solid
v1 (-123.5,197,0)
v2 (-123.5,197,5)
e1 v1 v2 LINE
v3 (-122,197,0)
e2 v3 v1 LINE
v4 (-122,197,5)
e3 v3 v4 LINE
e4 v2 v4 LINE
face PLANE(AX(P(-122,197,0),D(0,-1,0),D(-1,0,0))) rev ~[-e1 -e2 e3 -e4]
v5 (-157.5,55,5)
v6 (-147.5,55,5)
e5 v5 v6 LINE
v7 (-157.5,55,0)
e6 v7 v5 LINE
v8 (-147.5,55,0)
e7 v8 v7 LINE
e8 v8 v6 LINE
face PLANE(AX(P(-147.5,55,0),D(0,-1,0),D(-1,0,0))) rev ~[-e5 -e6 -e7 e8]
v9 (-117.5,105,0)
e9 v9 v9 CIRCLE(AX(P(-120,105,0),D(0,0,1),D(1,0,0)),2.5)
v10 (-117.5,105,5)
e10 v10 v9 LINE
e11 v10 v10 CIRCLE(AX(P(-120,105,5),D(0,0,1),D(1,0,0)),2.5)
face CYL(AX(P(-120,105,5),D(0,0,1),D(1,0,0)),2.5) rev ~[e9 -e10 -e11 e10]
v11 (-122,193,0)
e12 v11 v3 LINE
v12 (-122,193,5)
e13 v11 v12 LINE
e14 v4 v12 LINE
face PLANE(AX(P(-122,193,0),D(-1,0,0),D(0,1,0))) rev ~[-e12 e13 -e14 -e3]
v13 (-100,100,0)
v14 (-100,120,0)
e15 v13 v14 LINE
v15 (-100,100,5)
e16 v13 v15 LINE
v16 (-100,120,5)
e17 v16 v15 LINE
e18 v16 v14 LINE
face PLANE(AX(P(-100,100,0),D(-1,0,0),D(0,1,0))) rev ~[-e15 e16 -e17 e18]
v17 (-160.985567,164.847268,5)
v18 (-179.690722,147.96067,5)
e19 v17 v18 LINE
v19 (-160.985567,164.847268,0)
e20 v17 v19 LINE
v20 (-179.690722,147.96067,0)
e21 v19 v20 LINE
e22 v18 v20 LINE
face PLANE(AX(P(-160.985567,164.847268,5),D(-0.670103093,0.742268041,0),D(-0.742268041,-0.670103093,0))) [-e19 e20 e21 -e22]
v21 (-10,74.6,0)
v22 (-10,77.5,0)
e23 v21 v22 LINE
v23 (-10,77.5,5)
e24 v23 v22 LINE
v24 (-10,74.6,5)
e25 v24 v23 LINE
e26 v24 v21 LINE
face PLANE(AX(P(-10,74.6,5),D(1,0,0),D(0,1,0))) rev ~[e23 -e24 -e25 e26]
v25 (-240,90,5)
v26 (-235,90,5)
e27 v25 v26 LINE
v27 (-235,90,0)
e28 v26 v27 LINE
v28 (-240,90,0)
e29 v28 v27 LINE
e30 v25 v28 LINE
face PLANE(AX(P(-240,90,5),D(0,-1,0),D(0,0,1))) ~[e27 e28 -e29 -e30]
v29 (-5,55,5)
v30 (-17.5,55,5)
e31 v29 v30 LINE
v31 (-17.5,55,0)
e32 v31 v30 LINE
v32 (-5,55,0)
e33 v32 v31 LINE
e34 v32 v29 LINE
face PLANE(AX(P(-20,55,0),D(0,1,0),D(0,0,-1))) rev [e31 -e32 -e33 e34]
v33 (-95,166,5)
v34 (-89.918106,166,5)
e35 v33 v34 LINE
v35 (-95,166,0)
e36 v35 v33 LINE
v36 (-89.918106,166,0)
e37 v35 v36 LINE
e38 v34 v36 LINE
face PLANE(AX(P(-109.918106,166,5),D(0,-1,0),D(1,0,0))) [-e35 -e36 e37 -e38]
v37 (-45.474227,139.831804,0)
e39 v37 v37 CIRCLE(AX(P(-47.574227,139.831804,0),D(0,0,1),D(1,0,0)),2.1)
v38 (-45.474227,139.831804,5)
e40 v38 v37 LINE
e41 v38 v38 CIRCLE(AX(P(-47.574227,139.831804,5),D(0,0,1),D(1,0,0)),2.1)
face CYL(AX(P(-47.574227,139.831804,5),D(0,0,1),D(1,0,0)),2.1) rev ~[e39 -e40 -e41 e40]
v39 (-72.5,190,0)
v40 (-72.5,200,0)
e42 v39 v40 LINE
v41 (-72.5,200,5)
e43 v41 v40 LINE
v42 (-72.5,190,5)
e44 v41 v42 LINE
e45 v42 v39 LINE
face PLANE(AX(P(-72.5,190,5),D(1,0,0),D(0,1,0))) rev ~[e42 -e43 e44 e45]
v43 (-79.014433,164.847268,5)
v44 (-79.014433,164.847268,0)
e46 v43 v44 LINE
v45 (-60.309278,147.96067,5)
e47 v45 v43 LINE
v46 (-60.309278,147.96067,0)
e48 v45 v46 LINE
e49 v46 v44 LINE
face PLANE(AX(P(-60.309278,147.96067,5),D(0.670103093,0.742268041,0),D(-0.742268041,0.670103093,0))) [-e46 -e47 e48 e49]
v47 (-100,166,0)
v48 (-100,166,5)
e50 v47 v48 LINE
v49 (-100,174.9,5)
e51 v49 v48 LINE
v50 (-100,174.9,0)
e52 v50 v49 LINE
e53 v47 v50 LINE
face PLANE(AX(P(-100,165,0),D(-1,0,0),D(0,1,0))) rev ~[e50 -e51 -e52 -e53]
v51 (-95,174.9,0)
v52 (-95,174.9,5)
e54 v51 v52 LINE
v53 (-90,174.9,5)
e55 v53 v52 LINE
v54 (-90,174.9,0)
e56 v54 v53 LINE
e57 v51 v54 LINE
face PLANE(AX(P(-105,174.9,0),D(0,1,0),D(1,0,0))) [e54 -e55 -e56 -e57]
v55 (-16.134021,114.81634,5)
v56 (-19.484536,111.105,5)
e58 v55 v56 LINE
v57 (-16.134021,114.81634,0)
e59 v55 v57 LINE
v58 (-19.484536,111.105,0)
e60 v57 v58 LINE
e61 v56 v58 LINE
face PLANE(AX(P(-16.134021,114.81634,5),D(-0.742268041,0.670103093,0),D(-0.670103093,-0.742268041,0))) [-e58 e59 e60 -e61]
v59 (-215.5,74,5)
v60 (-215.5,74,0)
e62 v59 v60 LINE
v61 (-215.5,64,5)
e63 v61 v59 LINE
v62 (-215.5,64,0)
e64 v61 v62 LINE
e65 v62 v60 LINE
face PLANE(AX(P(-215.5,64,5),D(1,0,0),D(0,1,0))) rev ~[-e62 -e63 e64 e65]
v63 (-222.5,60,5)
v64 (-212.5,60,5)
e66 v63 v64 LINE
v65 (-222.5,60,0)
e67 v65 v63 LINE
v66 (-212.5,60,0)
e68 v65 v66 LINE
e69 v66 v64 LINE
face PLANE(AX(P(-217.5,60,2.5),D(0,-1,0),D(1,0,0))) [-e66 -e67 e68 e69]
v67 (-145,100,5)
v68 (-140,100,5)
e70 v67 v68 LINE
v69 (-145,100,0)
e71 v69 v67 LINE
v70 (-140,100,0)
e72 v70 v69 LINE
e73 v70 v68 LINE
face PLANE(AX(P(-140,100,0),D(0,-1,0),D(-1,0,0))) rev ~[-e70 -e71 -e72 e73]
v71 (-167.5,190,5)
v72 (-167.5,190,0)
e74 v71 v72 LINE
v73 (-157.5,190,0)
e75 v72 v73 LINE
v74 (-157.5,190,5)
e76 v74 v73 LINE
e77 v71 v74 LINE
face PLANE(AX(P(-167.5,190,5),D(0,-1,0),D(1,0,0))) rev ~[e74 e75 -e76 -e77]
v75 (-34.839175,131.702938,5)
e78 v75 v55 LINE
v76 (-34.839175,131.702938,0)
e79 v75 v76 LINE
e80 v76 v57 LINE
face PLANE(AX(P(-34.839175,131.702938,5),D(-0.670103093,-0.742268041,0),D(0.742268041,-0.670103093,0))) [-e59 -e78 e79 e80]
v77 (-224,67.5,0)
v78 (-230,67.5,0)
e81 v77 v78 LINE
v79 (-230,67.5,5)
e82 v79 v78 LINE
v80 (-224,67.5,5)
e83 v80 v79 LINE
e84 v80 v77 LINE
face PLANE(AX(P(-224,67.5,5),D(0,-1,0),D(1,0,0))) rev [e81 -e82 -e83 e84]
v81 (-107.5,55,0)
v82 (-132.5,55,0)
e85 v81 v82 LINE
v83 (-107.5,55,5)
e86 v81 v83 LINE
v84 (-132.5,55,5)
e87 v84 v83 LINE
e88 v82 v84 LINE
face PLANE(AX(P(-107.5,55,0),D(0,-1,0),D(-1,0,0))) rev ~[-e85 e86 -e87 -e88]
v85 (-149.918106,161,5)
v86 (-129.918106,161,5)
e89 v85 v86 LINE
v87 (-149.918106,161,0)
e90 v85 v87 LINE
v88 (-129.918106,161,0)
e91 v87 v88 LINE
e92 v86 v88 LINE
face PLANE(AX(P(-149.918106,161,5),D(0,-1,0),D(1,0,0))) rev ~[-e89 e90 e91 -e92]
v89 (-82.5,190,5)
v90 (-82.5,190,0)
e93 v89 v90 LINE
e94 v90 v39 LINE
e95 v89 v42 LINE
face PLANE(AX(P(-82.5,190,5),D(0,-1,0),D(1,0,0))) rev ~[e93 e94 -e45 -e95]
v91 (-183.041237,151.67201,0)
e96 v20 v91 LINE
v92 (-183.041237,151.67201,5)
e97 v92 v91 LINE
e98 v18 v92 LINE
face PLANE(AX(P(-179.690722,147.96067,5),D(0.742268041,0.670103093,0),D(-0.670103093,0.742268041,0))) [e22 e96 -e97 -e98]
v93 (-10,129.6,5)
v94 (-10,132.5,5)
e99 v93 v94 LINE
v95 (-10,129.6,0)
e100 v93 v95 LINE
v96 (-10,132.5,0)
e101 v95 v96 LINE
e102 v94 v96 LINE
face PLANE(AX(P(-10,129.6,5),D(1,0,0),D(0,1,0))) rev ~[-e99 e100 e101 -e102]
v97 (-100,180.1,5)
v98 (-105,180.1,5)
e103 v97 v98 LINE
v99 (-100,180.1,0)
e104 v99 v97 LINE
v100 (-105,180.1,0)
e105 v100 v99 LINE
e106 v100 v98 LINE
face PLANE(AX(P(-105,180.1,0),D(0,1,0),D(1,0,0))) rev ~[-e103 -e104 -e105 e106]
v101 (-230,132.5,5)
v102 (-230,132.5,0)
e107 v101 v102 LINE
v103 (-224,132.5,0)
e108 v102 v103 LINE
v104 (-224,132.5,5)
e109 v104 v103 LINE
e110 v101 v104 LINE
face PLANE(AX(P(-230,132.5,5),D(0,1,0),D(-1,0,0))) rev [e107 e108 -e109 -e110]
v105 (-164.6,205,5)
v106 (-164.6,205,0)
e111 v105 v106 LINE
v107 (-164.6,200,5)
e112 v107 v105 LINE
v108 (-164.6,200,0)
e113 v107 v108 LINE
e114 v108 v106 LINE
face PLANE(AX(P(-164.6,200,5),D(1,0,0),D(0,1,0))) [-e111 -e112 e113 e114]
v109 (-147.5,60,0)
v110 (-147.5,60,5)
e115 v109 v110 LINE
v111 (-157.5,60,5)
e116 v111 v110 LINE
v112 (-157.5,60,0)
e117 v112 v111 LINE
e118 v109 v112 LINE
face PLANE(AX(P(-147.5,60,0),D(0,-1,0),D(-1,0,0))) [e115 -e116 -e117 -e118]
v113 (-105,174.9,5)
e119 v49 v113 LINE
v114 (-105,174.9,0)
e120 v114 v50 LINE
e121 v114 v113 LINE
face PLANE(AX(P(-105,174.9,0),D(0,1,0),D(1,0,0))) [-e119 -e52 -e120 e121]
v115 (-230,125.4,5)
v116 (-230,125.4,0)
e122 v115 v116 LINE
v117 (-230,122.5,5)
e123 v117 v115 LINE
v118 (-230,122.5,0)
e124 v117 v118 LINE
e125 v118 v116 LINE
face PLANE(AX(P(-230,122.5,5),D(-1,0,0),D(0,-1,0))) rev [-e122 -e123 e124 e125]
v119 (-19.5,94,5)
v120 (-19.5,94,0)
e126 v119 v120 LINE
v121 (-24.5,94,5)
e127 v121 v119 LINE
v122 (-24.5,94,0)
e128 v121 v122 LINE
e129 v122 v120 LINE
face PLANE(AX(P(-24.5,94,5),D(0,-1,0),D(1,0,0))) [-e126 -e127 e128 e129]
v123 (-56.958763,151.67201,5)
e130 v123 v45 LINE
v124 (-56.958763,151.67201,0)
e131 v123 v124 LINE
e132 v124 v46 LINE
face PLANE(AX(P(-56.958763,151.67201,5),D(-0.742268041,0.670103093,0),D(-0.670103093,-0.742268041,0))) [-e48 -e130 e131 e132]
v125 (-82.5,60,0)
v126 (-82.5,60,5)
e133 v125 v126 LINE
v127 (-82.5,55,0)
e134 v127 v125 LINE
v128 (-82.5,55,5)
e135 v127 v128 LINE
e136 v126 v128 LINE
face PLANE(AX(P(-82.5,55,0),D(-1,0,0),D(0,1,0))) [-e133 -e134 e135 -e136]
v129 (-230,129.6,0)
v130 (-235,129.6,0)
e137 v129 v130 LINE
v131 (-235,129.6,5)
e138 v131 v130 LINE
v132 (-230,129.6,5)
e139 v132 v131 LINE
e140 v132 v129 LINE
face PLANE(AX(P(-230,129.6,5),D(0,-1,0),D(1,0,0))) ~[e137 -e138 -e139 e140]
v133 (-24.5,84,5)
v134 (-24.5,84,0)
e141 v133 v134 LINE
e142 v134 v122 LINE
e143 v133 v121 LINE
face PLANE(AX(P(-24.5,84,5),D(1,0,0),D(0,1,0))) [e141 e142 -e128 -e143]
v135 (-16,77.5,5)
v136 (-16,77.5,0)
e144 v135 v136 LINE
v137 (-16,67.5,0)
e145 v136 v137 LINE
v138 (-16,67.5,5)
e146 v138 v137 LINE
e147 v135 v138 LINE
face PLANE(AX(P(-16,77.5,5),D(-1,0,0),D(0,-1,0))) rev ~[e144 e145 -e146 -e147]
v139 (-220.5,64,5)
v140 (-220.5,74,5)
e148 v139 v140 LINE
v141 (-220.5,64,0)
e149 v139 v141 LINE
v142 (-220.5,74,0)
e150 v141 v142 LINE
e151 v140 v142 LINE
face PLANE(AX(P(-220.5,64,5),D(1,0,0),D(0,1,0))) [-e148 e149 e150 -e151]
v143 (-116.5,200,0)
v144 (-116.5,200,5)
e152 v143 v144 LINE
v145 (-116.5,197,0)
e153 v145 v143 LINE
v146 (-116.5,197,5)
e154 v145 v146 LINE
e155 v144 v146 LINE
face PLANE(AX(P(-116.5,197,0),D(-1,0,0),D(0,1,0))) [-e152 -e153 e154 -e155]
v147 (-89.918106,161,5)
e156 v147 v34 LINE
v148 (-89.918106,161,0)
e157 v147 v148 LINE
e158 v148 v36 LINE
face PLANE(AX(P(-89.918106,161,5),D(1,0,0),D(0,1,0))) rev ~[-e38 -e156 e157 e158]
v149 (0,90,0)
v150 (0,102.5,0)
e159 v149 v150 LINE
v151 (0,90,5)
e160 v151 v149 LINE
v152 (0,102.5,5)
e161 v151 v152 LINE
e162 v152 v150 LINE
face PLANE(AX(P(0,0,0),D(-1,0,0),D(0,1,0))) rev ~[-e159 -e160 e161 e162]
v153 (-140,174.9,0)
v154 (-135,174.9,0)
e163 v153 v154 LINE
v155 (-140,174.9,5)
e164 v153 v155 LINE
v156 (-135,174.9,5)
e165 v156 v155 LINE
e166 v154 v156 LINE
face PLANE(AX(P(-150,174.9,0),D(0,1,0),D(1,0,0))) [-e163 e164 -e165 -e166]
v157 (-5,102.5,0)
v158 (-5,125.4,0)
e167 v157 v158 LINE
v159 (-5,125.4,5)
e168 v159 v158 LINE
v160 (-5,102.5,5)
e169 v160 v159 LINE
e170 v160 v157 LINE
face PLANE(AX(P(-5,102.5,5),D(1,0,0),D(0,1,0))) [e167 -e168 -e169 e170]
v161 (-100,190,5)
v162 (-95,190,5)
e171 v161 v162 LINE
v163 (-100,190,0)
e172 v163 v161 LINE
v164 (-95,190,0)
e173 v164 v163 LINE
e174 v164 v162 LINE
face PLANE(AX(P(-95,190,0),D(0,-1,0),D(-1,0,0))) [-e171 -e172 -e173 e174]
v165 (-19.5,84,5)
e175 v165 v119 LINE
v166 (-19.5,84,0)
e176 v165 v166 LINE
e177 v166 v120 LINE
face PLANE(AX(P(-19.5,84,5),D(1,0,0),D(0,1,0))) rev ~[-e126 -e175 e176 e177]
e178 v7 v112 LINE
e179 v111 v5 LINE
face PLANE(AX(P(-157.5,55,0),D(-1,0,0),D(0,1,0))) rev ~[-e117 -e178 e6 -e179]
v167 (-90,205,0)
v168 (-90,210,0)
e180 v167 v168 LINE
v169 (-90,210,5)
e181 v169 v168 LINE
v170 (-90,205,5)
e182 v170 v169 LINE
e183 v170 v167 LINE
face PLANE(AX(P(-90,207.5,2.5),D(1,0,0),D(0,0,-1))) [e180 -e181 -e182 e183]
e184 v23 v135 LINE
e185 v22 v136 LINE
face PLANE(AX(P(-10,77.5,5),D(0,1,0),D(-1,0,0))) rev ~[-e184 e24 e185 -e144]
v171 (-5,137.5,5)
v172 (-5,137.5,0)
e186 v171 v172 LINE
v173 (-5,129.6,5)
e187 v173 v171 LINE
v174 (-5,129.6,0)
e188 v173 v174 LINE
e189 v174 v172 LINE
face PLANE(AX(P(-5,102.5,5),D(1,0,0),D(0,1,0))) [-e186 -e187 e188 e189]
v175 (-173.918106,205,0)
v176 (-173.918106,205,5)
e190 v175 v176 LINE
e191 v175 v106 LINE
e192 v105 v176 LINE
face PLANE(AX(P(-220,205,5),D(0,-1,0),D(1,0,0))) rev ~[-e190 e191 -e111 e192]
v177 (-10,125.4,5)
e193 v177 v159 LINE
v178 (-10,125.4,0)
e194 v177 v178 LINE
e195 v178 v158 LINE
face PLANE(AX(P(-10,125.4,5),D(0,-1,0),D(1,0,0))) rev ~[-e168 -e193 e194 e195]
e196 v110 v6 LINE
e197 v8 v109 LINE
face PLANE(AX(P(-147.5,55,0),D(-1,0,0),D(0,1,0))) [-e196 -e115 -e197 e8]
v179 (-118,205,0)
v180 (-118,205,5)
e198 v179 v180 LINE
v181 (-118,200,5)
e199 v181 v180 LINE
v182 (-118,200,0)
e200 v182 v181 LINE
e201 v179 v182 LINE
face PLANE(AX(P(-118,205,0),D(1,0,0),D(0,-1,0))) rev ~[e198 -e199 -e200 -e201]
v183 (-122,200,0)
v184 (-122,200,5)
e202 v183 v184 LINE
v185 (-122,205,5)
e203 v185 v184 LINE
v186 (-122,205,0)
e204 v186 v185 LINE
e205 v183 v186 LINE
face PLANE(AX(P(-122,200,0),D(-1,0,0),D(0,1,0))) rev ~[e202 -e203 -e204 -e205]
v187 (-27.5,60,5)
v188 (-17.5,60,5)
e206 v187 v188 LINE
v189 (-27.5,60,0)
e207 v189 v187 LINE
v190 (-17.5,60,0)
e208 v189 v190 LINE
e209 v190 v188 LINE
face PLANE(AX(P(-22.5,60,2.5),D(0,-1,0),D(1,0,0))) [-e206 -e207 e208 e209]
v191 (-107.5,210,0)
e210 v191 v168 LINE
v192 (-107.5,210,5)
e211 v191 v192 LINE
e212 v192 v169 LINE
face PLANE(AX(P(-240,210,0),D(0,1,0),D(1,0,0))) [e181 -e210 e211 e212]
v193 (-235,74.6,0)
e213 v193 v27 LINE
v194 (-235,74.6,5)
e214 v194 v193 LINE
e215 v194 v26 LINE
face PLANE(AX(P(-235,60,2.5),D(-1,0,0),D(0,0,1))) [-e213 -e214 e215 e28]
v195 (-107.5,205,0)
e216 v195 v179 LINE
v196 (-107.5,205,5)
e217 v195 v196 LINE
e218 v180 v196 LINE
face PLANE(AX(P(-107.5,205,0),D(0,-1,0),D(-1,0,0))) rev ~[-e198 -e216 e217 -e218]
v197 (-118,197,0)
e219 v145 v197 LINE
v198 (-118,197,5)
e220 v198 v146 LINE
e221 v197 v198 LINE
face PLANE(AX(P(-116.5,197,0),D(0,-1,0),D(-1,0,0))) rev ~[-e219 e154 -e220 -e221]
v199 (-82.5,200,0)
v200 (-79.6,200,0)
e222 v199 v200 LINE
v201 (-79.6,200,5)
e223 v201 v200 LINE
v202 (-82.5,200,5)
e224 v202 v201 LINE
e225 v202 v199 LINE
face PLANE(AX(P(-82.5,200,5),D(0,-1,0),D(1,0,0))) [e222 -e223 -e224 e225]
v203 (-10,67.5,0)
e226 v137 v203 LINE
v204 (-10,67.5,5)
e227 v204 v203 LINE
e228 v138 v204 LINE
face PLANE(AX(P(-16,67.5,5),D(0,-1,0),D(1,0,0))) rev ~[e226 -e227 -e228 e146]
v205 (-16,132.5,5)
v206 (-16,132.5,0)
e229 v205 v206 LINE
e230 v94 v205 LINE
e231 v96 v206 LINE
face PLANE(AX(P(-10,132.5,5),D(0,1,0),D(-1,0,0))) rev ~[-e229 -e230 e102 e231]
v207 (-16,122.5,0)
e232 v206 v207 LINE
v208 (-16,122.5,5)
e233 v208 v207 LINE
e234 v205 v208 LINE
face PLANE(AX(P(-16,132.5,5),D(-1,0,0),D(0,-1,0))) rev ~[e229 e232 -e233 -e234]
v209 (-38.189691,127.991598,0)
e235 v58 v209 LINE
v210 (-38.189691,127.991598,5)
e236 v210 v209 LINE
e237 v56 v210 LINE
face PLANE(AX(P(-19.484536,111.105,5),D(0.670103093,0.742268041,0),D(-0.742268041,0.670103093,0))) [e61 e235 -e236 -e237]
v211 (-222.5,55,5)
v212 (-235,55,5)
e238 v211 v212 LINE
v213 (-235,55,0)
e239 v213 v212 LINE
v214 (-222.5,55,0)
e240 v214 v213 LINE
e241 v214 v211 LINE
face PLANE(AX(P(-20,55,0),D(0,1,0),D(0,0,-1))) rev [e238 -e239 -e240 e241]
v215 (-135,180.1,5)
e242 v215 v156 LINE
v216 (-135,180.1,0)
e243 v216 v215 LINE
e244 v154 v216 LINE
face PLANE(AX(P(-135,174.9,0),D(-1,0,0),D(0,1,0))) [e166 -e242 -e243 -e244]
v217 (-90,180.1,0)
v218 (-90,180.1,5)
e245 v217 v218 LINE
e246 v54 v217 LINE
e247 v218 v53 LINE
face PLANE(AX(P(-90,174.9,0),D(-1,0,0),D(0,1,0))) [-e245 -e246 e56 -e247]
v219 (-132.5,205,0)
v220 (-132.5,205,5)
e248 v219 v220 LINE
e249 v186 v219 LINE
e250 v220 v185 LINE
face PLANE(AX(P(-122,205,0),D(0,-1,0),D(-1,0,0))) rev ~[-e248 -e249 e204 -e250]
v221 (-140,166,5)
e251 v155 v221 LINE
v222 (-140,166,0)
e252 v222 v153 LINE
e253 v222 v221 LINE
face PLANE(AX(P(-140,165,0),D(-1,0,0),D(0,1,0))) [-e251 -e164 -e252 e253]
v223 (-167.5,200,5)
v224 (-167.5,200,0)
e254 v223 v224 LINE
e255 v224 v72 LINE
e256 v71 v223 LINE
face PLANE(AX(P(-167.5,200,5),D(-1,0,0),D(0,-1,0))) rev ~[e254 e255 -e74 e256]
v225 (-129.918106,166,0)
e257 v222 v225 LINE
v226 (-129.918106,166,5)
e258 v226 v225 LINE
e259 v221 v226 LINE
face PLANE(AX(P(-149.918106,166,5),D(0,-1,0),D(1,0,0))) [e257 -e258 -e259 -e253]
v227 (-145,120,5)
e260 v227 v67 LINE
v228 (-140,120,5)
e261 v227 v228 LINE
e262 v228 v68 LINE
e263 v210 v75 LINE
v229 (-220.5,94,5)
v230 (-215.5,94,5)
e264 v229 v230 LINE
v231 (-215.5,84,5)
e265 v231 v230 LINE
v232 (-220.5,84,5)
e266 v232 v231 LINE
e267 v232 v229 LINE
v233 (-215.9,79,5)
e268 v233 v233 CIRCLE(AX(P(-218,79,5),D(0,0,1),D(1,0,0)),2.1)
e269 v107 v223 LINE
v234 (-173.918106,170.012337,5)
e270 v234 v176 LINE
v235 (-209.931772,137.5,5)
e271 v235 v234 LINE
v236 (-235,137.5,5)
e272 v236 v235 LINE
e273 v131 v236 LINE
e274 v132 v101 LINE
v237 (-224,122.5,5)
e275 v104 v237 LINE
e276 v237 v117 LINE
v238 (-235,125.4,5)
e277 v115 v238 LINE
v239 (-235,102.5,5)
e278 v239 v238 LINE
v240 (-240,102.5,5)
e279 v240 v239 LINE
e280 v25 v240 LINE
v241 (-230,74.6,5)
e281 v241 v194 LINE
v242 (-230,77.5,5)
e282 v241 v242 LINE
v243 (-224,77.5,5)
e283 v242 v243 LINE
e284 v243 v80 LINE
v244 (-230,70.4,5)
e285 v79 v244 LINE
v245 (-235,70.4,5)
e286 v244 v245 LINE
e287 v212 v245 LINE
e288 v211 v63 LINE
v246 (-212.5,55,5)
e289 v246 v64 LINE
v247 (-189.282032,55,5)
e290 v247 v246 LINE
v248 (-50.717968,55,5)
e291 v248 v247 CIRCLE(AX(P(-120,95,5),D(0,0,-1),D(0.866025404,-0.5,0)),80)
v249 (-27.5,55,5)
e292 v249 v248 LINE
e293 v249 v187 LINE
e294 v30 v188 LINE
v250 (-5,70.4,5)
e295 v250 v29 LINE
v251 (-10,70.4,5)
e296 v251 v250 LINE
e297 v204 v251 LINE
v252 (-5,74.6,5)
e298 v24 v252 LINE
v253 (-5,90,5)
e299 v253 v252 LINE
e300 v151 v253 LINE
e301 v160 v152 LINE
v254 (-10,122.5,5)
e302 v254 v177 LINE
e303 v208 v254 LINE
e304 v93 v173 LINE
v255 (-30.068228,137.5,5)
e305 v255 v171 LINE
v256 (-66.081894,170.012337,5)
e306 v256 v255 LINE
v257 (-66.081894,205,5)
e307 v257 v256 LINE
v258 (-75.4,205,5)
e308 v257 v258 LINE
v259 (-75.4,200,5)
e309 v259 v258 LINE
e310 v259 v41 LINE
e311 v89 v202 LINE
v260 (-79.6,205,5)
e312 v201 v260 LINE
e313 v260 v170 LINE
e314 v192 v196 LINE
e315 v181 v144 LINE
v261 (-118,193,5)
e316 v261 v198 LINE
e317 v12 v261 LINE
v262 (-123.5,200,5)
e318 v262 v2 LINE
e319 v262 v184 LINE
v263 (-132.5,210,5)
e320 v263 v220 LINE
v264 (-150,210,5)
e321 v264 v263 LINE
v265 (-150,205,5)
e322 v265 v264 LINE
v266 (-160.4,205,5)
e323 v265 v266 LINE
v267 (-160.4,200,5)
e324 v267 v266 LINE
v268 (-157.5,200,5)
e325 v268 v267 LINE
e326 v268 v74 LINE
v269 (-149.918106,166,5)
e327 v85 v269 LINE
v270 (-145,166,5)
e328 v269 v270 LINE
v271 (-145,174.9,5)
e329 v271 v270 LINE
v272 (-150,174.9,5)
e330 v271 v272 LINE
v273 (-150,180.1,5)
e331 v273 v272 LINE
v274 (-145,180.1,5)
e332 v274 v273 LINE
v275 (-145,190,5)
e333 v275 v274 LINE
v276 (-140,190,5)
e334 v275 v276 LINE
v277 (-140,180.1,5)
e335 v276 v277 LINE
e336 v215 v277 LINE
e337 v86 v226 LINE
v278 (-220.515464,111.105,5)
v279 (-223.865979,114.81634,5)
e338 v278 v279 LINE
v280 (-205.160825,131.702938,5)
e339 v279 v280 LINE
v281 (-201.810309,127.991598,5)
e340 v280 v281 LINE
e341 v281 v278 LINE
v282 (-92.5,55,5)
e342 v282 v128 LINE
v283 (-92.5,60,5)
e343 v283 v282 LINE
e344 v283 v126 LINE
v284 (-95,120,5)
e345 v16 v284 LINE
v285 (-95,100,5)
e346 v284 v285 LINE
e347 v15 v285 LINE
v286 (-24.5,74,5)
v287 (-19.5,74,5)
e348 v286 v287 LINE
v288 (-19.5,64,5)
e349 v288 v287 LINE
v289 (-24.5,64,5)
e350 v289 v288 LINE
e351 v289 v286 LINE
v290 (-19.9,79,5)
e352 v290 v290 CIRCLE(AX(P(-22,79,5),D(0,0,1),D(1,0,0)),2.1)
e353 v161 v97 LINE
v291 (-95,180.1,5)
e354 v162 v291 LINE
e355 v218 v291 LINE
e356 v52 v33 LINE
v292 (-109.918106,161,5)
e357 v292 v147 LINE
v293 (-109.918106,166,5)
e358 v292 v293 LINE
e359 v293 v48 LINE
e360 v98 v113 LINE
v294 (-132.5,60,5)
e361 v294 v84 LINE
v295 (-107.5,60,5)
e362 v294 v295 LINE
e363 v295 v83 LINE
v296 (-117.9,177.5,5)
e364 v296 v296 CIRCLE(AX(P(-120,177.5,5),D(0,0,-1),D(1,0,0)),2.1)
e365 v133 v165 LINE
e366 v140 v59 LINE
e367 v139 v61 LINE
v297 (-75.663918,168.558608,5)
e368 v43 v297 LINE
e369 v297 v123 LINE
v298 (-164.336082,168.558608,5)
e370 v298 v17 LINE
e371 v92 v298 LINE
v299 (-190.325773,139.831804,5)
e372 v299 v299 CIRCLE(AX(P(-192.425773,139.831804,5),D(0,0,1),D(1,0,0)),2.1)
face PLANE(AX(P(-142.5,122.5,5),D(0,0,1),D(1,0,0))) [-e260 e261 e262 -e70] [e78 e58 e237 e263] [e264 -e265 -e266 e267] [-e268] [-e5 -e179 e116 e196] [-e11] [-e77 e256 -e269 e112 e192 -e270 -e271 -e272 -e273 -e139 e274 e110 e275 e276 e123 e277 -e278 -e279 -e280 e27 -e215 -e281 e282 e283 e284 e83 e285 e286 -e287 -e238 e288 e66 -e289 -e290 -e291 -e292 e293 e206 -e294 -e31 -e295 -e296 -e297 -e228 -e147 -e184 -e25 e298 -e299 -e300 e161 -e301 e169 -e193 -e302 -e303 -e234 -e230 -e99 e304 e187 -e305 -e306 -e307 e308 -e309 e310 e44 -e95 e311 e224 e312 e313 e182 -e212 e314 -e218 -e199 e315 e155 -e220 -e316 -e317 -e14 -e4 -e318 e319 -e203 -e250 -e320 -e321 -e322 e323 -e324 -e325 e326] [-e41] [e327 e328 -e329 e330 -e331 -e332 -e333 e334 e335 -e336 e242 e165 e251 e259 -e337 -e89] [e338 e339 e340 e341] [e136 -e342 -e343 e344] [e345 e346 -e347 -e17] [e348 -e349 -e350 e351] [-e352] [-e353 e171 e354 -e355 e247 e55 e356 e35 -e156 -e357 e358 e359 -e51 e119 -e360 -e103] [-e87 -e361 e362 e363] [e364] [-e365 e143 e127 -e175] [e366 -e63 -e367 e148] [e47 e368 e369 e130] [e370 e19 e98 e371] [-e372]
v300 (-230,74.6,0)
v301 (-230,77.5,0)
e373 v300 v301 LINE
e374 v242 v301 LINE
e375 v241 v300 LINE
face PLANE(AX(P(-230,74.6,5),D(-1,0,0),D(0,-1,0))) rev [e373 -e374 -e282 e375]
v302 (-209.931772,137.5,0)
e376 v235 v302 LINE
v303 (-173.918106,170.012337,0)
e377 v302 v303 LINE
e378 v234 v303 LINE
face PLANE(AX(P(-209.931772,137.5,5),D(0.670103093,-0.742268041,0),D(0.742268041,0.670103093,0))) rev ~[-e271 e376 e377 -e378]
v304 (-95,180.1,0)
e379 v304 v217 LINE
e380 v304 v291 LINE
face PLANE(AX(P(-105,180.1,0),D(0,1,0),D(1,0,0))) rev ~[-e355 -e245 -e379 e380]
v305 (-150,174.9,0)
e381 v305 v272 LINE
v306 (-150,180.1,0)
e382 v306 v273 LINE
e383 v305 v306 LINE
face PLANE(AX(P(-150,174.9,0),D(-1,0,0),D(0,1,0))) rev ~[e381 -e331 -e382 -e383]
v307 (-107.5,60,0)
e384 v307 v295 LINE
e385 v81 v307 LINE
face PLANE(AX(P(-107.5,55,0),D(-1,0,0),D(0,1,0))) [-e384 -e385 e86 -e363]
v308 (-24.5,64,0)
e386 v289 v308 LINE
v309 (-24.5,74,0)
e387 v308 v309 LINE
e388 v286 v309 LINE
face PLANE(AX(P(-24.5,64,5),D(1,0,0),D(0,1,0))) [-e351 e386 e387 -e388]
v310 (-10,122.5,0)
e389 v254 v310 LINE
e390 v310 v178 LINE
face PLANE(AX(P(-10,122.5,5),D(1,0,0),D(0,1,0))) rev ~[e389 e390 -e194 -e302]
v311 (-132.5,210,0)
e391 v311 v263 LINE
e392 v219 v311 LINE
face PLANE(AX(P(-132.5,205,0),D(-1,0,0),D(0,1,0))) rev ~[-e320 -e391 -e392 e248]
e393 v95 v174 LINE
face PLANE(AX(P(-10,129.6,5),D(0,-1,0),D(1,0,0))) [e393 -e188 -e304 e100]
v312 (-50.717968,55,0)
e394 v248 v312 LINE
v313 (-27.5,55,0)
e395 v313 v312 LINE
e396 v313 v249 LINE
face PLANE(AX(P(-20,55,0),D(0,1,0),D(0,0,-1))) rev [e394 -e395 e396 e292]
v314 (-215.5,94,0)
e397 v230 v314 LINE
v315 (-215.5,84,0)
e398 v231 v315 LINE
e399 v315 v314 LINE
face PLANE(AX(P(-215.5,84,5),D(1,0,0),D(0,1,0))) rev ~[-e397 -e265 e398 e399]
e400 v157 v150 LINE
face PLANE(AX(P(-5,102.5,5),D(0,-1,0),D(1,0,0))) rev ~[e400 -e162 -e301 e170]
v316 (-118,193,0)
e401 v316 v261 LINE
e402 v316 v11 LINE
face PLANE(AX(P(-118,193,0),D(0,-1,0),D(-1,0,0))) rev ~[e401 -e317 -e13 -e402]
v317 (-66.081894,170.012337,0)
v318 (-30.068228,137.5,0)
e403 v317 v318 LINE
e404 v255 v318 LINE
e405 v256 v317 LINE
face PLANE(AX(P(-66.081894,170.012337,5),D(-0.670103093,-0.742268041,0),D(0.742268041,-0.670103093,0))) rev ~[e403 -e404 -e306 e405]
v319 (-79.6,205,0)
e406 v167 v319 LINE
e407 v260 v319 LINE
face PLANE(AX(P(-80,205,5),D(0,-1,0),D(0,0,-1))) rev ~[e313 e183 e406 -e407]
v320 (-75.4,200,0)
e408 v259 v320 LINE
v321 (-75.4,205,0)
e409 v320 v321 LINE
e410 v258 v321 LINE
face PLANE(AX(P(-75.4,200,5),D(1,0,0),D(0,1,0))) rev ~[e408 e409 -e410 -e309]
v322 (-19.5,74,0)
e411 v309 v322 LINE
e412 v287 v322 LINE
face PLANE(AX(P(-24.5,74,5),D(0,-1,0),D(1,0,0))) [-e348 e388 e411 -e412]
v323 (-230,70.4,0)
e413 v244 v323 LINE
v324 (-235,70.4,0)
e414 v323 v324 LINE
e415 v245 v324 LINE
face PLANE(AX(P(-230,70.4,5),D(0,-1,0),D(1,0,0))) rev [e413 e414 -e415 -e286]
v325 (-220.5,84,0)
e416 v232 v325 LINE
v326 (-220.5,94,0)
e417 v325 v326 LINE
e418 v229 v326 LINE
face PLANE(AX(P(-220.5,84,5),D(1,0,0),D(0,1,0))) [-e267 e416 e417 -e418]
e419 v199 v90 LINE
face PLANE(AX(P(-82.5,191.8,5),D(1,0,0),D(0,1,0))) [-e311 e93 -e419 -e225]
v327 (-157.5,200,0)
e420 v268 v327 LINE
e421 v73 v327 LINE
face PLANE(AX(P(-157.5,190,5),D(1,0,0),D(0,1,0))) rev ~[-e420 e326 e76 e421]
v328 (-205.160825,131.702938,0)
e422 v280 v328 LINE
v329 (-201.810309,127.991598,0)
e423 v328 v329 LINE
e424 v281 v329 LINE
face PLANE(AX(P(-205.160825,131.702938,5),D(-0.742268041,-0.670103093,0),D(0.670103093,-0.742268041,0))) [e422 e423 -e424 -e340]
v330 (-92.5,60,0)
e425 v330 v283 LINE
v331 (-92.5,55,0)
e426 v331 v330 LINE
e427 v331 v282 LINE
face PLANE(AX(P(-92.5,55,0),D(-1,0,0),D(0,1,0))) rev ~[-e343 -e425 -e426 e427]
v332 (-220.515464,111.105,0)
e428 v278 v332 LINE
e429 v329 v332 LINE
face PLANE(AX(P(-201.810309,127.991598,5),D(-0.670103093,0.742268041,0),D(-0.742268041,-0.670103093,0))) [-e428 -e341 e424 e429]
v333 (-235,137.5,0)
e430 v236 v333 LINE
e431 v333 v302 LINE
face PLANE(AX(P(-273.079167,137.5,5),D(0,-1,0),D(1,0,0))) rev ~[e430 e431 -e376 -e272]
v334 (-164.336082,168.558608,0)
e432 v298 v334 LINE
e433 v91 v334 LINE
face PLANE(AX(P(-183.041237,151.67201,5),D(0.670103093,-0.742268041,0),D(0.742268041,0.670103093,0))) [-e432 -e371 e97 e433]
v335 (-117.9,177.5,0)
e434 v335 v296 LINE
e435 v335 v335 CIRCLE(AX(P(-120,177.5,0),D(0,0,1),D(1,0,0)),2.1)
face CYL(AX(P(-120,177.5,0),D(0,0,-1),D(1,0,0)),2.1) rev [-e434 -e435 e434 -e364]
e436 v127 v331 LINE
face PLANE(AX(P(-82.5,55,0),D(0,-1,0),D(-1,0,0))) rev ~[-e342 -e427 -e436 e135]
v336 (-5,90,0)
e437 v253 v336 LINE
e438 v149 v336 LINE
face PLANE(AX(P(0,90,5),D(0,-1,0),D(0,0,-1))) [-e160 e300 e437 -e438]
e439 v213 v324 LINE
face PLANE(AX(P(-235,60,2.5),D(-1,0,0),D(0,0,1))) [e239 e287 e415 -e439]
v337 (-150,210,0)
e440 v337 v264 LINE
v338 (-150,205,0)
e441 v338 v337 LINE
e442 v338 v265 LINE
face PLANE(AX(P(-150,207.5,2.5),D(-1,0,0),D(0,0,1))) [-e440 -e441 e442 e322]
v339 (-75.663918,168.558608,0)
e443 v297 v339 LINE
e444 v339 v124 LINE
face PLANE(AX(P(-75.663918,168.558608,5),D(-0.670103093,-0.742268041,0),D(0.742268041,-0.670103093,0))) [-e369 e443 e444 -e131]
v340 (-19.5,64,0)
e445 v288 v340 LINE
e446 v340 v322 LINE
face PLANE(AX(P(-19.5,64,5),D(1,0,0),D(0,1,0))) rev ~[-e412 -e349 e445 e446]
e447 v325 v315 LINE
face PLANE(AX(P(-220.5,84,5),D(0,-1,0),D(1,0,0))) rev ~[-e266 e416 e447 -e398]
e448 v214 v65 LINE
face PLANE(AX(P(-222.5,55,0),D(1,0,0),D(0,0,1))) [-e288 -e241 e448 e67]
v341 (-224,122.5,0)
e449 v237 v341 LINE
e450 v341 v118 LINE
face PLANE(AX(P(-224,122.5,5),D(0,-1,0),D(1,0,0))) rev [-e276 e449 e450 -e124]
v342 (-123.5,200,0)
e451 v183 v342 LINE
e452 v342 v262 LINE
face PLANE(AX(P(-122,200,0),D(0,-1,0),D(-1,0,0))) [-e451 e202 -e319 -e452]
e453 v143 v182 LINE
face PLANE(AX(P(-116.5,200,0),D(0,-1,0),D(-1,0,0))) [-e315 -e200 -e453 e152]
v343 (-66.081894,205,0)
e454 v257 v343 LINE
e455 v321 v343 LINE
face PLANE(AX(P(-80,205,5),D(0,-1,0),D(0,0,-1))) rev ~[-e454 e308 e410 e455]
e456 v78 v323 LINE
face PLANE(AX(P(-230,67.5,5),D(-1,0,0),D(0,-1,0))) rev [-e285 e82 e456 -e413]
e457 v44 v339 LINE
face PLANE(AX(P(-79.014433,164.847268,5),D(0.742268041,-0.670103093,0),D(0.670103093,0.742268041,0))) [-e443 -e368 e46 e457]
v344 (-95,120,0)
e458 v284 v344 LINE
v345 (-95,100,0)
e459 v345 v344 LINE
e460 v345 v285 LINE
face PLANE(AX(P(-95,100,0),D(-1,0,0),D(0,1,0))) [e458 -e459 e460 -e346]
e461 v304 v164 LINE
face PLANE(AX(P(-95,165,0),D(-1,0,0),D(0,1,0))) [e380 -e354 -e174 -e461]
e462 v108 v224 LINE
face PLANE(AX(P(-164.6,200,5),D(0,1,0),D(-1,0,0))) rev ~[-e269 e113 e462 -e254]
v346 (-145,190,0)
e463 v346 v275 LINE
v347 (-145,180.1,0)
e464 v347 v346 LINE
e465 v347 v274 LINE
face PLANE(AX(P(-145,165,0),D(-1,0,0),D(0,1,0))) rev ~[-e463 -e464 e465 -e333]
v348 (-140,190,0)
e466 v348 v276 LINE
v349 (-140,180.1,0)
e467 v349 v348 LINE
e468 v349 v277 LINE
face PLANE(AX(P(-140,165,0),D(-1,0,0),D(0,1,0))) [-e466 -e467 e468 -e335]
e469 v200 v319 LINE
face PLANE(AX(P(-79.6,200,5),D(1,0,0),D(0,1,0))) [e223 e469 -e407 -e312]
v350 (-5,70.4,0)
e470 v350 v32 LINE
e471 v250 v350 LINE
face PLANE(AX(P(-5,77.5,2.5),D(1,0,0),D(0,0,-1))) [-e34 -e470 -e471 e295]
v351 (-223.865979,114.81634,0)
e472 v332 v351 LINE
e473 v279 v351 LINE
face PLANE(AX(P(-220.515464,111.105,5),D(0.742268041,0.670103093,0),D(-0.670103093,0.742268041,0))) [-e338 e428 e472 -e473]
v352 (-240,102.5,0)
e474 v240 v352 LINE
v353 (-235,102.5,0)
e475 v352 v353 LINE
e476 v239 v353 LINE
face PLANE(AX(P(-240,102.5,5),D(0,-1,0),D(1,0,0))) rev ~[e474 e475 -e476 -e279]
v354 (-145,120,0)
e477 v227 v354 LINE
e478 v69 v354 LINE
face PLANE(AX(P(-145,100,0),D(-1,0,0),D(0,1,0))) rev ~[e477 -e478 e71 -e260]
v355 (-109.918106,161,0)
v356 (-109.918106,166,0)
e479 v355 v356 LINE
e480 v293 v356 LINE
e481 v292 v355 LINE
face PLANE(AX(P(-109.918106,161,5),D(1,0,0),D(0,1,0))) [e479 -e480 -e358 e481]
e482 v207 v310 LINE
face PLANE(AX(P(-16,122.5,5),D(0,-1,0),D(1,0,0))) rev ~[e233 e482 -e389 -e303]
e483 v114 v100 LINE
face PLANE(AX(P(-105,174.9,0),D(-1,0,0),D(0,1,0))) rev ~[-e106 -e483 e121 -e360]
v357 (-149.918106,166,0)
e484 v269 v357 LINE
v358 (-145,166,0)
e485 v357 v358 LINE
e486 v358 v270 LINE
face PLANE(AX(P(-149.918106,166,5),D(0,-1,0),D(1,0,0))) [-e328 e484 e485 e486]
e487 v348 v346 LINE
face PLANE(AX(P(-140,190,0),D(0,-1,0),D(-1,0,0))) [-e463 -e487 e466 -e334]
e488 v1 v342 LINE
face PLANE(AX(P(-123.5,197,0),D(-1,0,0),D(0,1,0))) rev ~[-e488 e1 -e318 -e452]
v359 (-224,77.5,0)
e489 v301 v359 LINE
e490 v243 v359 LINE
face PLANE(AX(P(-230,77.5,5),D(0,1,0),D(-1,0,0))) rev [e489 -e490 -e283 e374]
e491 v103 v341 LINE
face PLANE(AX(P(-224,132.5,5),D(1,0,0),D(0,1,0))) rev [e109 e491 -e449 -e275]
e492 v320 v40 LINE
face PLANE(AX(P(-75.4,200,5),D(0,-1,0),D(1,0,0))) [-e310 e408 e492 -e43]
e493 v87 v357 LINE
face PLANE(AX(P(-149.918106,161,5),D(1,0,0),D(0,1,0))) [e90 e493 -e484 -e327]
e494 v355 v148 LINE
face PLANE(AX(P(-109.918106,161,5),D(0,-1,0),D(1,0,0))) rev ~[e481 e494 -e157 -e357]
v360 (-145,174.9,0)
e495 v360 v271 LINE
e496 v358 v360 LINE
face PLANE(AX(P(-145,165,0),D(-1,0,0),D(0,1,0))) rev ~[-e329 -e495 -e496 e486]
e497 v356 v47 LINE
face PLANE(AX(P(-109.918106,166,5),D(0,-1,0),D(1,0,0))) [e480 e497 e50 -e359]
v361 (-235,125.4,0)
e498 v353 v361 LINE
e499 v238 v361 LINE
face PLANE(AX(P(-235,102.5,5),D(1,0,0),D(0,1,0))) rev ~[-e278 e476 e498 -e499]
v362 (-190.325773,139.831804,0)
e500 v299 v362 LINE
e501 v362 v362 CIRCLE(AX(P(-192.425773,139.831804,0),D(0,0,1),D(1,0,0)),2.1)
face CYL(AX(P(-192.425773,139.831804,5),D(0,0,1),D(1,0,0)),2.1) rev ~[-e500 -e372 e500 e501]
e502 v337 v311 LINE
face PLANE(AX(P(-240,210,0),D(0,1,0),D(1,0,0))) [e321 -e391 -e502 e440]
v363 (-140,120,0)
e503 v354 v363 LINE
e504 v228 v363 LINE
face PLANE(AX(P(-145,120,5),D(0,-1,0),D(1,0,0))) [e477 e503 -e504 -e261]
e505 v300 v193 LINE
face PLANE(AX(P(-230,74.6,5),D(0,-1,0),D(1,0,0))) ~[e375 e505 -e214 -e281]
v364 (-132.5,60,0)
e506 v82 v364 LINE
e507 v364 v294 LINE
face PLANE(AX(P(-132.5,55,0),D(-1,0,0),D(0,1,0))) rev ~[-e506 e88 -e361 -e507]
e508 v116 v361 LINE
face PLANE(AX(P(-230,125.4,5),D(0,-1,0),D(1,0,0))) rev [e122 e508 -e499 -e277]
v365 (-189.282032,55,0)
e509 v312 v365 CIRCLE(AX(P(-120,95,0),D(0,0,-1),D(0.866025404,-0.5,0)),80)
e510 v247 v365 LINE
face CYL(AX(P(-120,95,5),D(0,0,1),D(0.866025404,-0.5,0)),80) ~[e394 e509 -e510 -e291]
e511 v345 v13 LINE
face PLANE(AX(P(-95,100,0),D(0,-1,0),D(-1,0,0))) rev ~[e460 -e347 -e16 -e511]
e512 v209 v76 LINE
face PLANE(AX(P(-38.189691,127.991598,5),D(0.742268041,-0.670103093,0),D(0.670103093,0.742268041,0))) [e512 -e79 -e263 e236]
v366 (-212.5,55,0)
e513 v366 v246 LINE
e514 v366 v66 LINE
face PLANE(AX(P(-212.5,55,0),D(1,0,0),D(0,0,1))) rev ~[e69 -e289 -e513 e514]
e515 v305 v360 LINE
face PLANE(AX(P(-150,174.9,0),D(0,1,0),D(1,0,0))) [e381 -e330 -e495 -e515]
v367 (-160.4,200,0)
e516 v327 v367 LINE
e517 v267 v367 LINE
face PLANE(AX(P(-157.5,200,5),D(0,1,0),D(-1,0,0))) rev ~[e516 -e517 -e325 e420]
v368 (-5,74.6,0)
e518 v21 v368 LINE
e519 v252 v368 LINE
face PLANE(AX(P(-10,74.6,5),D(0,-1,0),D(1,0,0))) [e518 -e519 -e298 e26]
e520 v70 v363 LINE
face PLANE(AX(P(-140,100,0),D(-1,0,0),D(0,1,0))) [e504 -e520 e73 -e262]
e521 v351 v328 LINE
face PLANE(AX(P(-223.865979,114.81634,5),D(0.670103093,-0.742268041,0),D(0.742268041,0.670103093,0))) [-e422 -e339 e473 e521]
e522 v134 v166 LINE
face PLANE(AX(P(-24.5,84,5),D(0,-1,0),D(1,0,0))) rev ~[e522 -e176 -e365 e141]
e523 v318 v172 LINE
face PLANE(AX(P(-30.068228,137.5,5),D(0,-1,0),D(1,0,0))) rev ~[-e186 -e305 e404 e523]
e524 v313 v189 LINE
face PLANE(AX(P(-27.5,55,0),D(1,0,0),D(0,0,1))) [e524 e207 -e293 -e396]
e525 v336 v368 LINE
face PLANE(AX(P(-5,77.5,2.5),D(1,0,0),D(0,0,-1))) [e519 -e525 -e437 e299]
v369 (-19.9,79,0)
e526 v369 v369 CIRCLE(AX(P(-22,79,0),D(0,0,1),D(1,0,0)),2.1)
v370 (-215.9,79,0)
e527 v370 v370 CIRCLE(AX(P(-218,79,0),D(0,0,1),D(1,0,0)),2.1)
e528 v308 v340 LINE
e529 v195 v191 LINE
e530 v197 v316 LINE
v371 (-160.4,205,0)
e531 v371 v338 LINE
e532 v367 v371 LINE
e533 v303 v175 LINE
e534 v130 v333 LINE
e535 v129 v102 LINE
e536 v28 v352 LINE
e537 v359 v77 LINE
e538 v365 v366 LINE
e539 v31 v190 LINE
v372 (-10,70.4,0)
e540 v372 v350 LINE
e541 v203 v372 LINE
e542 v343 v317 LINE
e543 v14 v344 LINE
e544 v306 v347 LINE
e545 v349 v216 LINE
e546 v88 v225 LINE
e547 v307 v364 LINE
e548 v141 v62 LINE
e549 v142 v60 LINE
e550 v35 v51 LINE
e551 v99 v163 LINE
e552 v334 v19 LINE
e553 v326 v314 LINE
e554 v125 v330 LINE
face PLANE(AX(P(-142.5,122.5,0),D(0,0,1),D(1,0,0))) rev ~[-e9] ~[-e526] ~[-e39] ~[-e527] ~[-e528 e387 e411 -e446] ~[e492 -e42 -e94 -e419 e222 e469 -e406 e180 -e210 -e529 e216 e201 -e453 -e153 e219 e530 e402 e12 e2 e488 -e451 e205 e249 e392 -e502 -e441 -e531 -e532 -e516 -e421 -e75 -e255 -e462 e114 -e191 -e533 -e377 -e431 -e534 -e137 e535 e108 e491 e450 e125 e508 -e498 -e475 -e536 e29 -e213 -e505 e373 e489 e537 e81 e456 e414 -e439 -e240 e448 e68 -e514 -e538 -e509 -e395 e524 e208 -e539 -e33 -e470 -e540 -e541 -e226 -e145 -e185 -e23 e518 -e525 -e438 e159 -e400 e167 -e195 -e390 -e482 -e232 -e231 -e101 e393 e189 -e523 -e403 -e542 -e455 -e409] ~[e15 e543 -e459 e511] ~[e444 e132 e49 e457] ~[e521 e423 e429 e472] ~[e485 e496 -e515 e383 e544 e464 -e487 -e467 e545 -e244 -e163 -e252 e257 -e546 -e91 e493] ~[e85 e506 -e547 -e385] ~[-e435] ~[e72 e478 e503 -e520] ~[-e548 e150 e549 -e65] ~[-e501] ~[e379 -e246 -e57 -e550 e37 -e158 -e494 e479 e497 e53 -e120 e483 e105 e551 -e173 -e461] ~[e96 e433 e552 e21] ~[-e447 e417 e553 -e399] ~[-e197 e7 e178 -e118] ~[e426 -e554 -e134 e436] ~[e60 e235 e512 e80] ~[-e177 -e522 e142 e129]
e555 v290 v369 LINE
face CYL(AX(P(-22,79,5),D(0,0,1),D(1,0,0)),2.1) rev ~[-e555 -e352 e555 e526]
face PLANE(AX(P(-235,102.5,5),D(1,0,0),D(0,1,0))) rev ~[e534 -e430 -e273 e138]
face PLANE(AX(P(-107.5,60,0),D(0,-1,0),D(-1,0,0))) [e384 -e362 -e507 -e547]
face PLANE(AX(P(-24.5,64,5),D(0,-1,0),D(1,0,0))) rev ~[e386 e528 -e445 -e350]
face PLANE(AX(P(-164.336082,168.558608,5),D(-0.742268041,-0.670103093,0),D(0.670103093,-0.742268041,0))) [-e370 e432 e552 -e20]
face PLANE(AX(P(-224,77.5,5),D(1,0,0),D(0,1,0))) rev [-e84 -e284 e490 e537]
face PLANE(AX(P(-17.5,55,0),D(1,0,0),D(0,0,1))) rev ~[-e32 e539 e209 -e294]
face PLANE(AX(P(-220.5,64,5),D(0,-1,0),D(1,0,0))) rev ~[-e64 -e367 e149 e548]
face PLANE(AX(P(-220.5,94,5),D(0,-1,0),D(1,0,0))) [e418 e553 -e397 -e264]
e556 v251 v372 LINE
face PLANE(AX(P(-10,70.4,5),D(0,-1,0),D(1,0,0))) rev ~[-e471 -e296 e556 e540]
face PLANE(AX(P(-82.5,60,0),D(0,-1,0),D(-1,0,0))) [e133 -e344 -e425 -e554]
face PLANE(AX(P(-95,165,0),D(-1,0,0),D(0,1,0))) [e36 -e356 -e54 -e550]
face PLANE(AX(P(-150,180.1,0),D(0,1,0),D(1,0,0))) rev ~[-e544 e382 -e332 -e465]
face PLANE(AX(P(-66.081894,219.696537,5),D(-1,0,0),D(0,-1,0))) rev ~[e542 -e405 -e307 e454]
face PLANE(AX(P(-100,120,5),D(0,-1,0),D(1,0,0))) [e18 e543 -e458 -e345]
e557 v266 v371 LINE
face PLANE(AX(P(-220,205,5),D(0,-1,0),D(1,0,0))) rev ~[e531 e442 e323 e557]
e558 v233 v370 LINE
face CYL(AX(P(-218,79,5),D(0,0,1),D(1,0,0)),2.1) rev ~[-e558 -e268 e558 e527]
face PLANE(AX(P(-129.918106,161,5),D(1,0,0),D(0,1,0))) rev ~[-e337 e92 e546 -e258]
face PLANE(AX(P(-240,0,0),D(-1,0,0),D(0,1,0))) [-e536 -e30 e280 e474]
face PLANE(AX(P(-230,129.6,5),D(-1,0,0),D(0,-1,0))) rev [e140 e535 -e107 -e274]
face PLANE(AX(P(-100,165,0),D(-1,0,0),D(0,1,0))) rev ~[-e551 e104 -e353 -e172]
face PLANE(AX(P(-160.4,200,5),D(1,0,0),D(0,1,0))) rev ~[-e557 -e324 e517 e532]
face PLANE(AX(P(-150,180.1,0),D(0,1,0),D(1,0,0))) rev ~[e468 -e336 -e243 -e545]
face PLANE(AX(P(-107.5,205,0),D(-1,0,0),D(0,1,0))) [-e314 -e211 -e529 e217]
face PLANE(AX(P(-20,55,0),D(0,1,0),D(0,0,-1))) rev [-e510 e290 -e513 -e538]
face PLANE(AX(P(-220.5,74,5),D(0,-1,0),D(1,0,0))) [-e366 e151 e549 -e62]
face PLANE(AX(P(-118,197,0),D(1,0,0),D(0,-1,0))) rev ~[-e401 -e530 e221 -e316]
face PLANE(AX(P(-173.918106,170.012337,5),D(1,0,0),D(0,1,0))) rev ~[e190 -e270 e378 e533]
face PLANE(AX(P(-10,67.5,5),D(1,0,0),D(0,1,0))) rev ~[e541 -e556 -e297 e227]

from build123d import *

# Parameters (mm, degrees)
SKETCH1_W            = 240
SKETCH1_H            = 210
BOSS_EXTRUDE1_DEPTH  = 5
SKETCH2_W            = 240
SKETCH2_H            = 65
CUT_EXTRUDE1_DEPTH   = 5
SKETCH4_W            = 100
SKETCH4_H            = 5
BOSS_EXTRUDE2_DEPTH  = 10
SKETCH5_W            = 5
SKETCH5_H            = 35
SKETCH5_W_2          = 60
SKETCH5_H_2          = 5
CUT_EXTRUDE3_DEPTH   = 10
SKETCH6_W            = 5
SKETCH6_H            = 10
BOSS_EXTRUDE3_DEPTH  = 15
BOSS_EXTRUDE9_DEPTH  = 5
SKETCH13_W           = 5
SKETCH13_H           = 35
CUT_EXTRUDE4_DEPTH   = 10
SKETCH15_R           = 2.1
SKETCH15_W           = 15
SKETCH15_H           = 5.2
CUT_EXTRUDE8_DEPTH   = 10
SKETCH16_R           = 2.1
CUT_EXTRUDE9_DEPTH   = 10
SKETCH17_W           = 25
SKETCH17_H           = 5
SKETCH17_W_2         = 10
CUT_EXTRUDE10_DEPTH  = 10
SKETCH19_W           = 25
SKETCH19_H           = 5
SKETCH19_W_2         = 4
SKETCH19_H_2         = 3
SKETCH19_H_3         = 4
SKETCH19_W_3         = 1.5
CUT_EXTRUDE12_DEPTH  = 10
CUT_EXTRUDE13_DEPTH  = 10
SKETCH21_W           = 5
SKETCH21_H           = 25
CUT_EXTRUDE14_DEPTH  = 5
SKETCH22_W           = 5
SKETCH22_H           = 4.2
CUT_EXTRUDE15_DEPTH  = 5
SKETCH23_W           = 5
SKETCH23_H           = 25
CUT_EXTRUDE16_DEPTH  = 10
SKETCH24_W           = 5
SKETCH24_H           = 5
BOSS_EXTRUDE10_DEPTH = 5
SKETCH26_W           = 5
SKETCH26_H           = 5
BOSS_EXTRUDE12_DEPTH = 5
SKETCH27_R           = 2.5
CUT_EXTRUDE17_DEPTH  = 5
SKETCH28_W           = 5
SKETCH28_H           = 5
CUT_EXTRUDE18_DEPTH  = 10
SKETCH29_W           = 5
SKETCH29_H           = 5
CUT_EXTRUDE19_DEPTH  = 10
SKETCH30_W           = 10
SKETCH30_H           = 8.2
SKETCH30_W_2         = 4.2
SKETCH30_H_2         = 5
CUT_EXTRUDE20_DEPTH  = 10
SKETCH31_W           = 10
SKETCH31_H           = 5
CUT_EXTRUDE21_DEPTH  = 5
SKETCH32_W           = 20
SKETCH32_H           = 5
CUT_EXTRUDE22_DEPTH  = 5
SKETCH33_W           = 10
SKETCH33_H           = 1.8
CUT_EXTRUDE23_DEPTH  = 5
SKETCH34_R           = 2.1
SKETCH34_W           = 5
SKETCH34_H           = 10
CUT_EXTRUDE24_DEPTH  = 5


with BuildPart() as part:
    # Sketch1 → Boss-Extrude1 (new body)
    with BuildSketch(Plane.XY):
        with Locations((-120, 105)):
            Rectangle(SKETCH1_W, SKETCH1_H)
    extrude(amount=BOSS_EXTRUDE1_DEPTH)

    # Sketch2 → Cut-Extrude1 (cut)
    with BuildSketch(Plane.XY.offset(5)):
        with Locations((-120, 32.5)):
            Rectangle(SKETCH2_W, SKETCH2_H)
    extrude(amount=-CUT_EXTRUDE1_DEPTH, mode=Mode.SUBTRACT)

    # Sketch4 → Boss-Extrude2 (add)
    with BuildSketch(Plane.XZ.offset(-65)):
        with Locations((-170, 2.5)):
            Rectangle(SKETCH4_W, SKETCH4_H)
        with Locations((-70, 2.5)):
            Rectangle(SKETCH4_W, SKETCH4_H)
    extrude(amount=BOSS_EXTRUDE2_DEPTH)

    # Sketch5 → Cut-Extrude3 (cut)
    with BuildSketch(Plane.XY.offset(5)):
        with Locations((-237.5, 192.5)):
            Rectangle(SKETCH5_W, SKETCH5_H)
        with Locations((-2.5, 192.5)):
            Rectangle(SKETCH5_W, SKETCH5_H)
        with Locations((-50, 207.5)):
            Rectangle(SKETCH5_W_2, SKETCH5_H_2)
        with Locations((-190, 207.5)):
            Rectangle(SKETCH5_W_2, SKETCH5_H_2)
    extrude(amount=-CUT_EXTRUDE3_DEPTH, mode=Mode.SUBTRACT)

    # Sketch6 → Boss-Extrude3 (add)
    with BuildSketch(Plane.ZY.offset(220)):
        with Locations((2.5, 60)):
            Rectangle(SKETCH6_W, SKETCH6_H)
    boss_extrude3 = extrude(amount=BOSS_EXTRUDE3_DEPTH)

    # Mirror1: Boss-Extrude3 across plane
    add(boss_extrude3.mirror(Plane.ZY.offset(120)))

    # Sketch12 → Boss-Extrude9 (add)
    with BuildSketch(Plane.XY.offset(5)):
        with BuildLine():
            Line((-189.282032303, 55), (-50.717967697, 55))
            ThreePointArc((-50.717967697, 55), (-120, 15), (-189.282032303, 55))
        make_face()
    extrude(amount=-BOSS_EXTRUDE9_DEPTH)

    # Sketch13 → Cut-Extrude4 (cut)
    with BuildSketch(Plane.XY.offset(5)):
        with Locations((-237.5, 120)):
            Rectangle(SKETCH13_W, SKETCH13_H)
        with Locations((-2.5, 120)):
            Rectangle(SKETCH13_W, SKETCH13_H)
    extrude(amount=-CUT_EXTRUDE4_DEPTH, mode=Mode.SUBTRACT)

    # Sketch15 → Cut-Extrude8 (cut)
    with BuildSketch(Plane.XY):
        with Locations((-120, 177.5)):
            Circle(SKETCH15_R)
        with Locations((-142.5, 177.5)):
            Rectangle(SKETCH15_W, SKETCH15_H)
        with Locations((-97.5, 177.5)):
            Rectangle(SKETCH15_W, SKETCH15_H)
    extrude(amount=CUT_EXTRUDE8_DEPTH, mode=Mode.SUBTRACT)

    # Sketch16 → Cut-Extrude9 (cut)
    with BuildSketch(Plane.XY.offset(5)):
        Polygon((-160.98556701, 164.847268071), (-179.690721649, 147.960670133), (-183.041237113, 151.672010339), (-164.336082474, 168.558608278), align=None)
        Polygon((-201.810309278, 127.991597968), (-220.515463918, 111.10500003), (-223.865979381, 114.816340236), (-205.160824742, 131.702938175), align=None)
        with Locations((-192.425773196, 139.831804154)):
            Circle(SKETCH16_R)
        Polygon((-75.663917526, 168.558608278), (-56.958762887, 151.672010339), (-60.309278351, 147.960670133), (-79.01443299, 164.847268071), align=None)
        with Locations((-47.574226804, 139.831804154)):
            Circle(SKETCH16_R)
        Polygon((-34.839175258, 131.702938175), (-16.134020619, 114.816340236), (-19.484536082, 111.10500003), (-38.189690722, 127.991597968), align=None)
    extrude(amount=-CUT_EXTRUDE9_DEPTH, mode=Mode.SUBTRACT)

    # Sketch17 → Cut-Extrude10 (cut)
    with BuildSketch(Plane(origin=(0, 0, 0), x_dir=(-1, 0, 0), z_dir=(0, 0, -1))):
        with Locations((120, 57.5)):
            Rectangle(SKETCH17_W, SKETCH17_H)
        with Locations((152.5, 57.5)):
            Rectangle(SKETCH17_W_2, SKETCH17_H)
        with Locations((87.5, 57.5)):
            Rectangle(SKETCH17_W_2, SKETCH17_H)
    extrude(amount=-CUT_EXTRUDE10_DEPTH, mode=Mode.SUBTRACT)

    # Sketch19 → Cut-Extrude12 (cut)
    with BuildSketch(Plane(origin=(0, 0, 0), x_dir=(-1, 0, 0), z_dir=(0, 0, -1))):
        with Locations((120, 207.5)):
            Rectangle(SKETCH19_W, SKETCH19_H)
        with Locations((120, 202.5)):
            Rectangle(SKETCH19_W_2, SKETCH19_H)
        with Locations((120, 198.5)):
            Rectangle(SKETCH19_W_2, SKETCH19_H_2)
        with Locations((120, 195)):
            Rectangle(SKETCH19_W_2, SKETCH19_H_3)
        with Locations((122.75, 198.5)):
            Rectangle(SKETCH19_W_3, SKETCH19_H_2)
        with Locations((117.25, 198.5)):
            Rectangle(SKETCH19_W_3, SKETCH19_H_2)
    extrude(amount=-CUT_EXTRUDE12_DEPTH, mode=Mode.SUBTRACT)

    # Sketch20 → Cut-Extrude13 (cut)
    with BuildSketch(Plane.XY.offset(5)):
        Polygon((-273.079166664, 137.5), (-209.931771643, 137.5), (-173.918106282, 170.012336785), (-173.918106282, 219.696537232), (-273.079166664, 219.696537232), align=None)
        Polygon((33.079166664, 137.5), (33.079166664, 219.696537232), (-66.081893718, 219.696537232), (-66.081893718, 170.012336785), (-30.068228357, 137.5), align=None)
    extrude(amount=-CUT_EXTRUDE13_DEPTH, mode=Mode.SUBTRACT)

    # Sketch21 → Cut-Extrude14 (cut)
    with BuildSketch(Plane(origin=(0, 0, 0), x_dir=(0, 0, -1), z_dir=(1, 0, 0))):
        with Locations((-2.5, 77.5)):
            Rectangle(SKETCH21_W, SKETCH21_H)
    cut_extrude14 = extrude(amount=-CUT_EXTRUDE14_DEPTH, mode=Mode.SUBTRACT)

    # Mirror2: Cut-Extrude14 across plane
    add(cut_extrude14.mirror(Plane.ZY.offset(120)), mode=Mode.SUBTRACT)

    # Sketch22 → Cut-Extrude15 (cut)
    with BuildSketch(Plane.XY.offset(5)):
        with Locations((-7.5, 72.5)):
            Rectangle(SKETCH22_W, SKETCH22_H)
        with Locations((-7.5, 127.5)):
            Rectangle(SKETCH22_W, SKETCH22_H)
        Polygon((-10, 67.5), (-10, 70.4), (-10, 74.6), (-10, 77.5), (-16, 77.5), (-16, 67.5), align=None)
        Polygon((-10, 125.4), (-10, 129.6), (-10, 132.5), (-16, 132.5), (-16, 122.5), (-10, 122.5), align=None)
    cut_extrude15 = extrude(amount=-CUT_EXTRUDE15_DEPTH, mode=Mode.SUBTRACT)

    # Mirror3: Cut-Extrude15 across plane
    add(cut_extrude15.mirror(Plane(origin=(-120, 0, 0), x_dir=(0, 0, 1), z_dir=(1, 0, 0))), mode=Mode.SUBTRACT)

    # Sketch23 → Cut-Extrude16 (cut)
    with BuildSketch(Plane(origin=(0, 0, 0), x_dir=(-1, 0, 0), z_dir=(0, 0, -1))):
        with Locations((142.5, 112.5)):
            Rectangle(SKETCH23_W, SKETCH23_H)
        with Locations((97.5, 112.5)):
            Rectangle(SKETCH23_W, SKETCH23_H)
        with Locations((142.5, 177.5)):
            Rectangle(SKETCH23_W, SKETCH23_H)
        with Locations((97.5, 177.5)):
            Rectangle(SKETCH23_W, SKETCH23_H)
    extrude(amount=-CUT_EXTRUDE16_DEPTH, mode=Mode.SUBTRACT)

    # Sketch24 → Boss-Extrude10 (add)
    with BuildSketch(Plane.XY.offset(5)):
        with Locations((-97.5, 122.5)):
            Rectangle(SKETCH24_W, SKETCH24_H)
    extrude(amount=-BOSS_EXTRUDE10_DEPTH)

    # Sketch26 → Boss-Extrude12 (add)
    with BuildSketch(Plane.XY.offset(5)):
        with Locations((-142.5, 122.5)):
            Rectangle(SKETCH26_W, SKETCH26_H)
    extrude(amount=-BOSS_EXTRUDE12_DEPTH)

    # Sketch27 → Cut-Extrude17 (cut)
    with BuildSketch(Plane.XY.offset(5)):
        with Locations((-120, 105)):
            Circle(SKETCH27_R)
    extrude(amount=-CUT_EXTRUDE17_DEPTH, mode=Mode.SUBTRACT)

    # Sketch28 → Cut-Extrude18 (cut)
    with BuildSketch(Plane.ZY.offset(160)):
        with Locations((2.5, 207.5)):
            Rectangle(SKETCH28_W, SKETCH28_H)
    extrude(amount=-CUT_EXTRUDE18_DEPTH, mode=Mode.SUBTRACT)

    # Sketch29 → Cut-Extrude19 (cut)
    with BuildSketch(Plane(origin=(-80, 0, 0), x_dir=(0, 0, -1), z_dir=(1, 0, 0))):
        with Locations((-2.5, 207.5)):
            Rectangle(SKETCH29_W, SKETCH29_H)
    extrude(amount=-CUT_EXTRUDE19_DEPTH, mode=Mode.SUBTRACT)

    # Sketch30 → Cut-Extrude20 (cut)
    with BuildSketch(Plane.XY.offset(5)):
        with Locations((-77.5, 195.9)):
            Rectangle(SKETCH30_W, SKETCH30_H)
        with Locations((-77.5, 202.5)):
            Rectangle(SKETCH30_W_2, SKETCH30_H_2)
        Polygon((-157.5, 200), (-160.4, 200), (-164.6, 200), (-167.5, 200), (-167.5, 191.8), (-157.5, 191.8), align=None)
        with Locations((-162.5, 202.5)):
            Rectangle(SKETCH30_W_2, SKETCH30_H_2)
    extrude(amount=-CUT_EXTRUDE20_DEPTH, mode=Mode.SUBTRACT)

    # Sketch31 → Cut-Extrude21 (cut)
    with BuildSketch(Plane.XZ.offset(-55)):
        with Locations((-217.5, 2.5)):
            Rectangle(SKETCH31_W, SKETCH31_H)
        with Locations((-22.5, 2.5)):
            Rectangle(SKETCH31_W, SKETCH31_H)
    extrude(amount=-CUT_EXTRUDE21_DEPTH, mode=Mode.SUBTRACT)

    # Sketch32 → Cut-Extrude22 (cut)
    with BuildSketch(Plane.XY.offset(5)):
        with Locations((-139.918106282, 163.5)):
            Rectangle(SKETCH32_W, SKETCH32_H)
        with Locations((-99.918106282, 163.5)):
            Rectangle(SKETCH32_W, SKETCH32_H)
    extrude(amount=-CUT_EXTRUDE22_DEPTH, mode=Mode.SUBTRACT)

    # Sketch33 → Cut-Extrude23 (cut)
    with BuildSketch(Plane.XY.offset(5)):
        with Locations((-162.5, 190.9)):
            Rectangle(SKETCH33_W, SKETCH33_H)
        with Locations((-77.5, 190.9)):
            Rectangle(SKETCH33_W, SKETCH33_H)
    extrude(amount=-CUT_EXTRUDE23_DEPTH, mode=Mode.SUBTRACT)

    # Sketch34 → Cut-Extrude24 (cut)
    with BuildSketch(Plane.XY.offset(5)):
        with Locations((-218, 79)):
            Circle(SKETCH34_R)
        with Locations((-22, 79)):
            Circle(SKETCH34_R)
        with Locations((-218, 69)):
            Rectangle(SKETCH34_W, SKETCH34_H)
        with Locations((-218, 89)):
            Rectangle(SKETCH34_W, SKETCH34_H)
        with Locations((-22, 89)):
            Rectangle(SKETCH34_W, SKETCH34_H)
        with Locations((-22, 69)):
            Rectangle(SKETCH34_W, SKETCH34_H)
    extrude(amount=-CUT_EXTRUDE24_DEPTH, mode=Mode.SUBTRACT)


solid = part.part
